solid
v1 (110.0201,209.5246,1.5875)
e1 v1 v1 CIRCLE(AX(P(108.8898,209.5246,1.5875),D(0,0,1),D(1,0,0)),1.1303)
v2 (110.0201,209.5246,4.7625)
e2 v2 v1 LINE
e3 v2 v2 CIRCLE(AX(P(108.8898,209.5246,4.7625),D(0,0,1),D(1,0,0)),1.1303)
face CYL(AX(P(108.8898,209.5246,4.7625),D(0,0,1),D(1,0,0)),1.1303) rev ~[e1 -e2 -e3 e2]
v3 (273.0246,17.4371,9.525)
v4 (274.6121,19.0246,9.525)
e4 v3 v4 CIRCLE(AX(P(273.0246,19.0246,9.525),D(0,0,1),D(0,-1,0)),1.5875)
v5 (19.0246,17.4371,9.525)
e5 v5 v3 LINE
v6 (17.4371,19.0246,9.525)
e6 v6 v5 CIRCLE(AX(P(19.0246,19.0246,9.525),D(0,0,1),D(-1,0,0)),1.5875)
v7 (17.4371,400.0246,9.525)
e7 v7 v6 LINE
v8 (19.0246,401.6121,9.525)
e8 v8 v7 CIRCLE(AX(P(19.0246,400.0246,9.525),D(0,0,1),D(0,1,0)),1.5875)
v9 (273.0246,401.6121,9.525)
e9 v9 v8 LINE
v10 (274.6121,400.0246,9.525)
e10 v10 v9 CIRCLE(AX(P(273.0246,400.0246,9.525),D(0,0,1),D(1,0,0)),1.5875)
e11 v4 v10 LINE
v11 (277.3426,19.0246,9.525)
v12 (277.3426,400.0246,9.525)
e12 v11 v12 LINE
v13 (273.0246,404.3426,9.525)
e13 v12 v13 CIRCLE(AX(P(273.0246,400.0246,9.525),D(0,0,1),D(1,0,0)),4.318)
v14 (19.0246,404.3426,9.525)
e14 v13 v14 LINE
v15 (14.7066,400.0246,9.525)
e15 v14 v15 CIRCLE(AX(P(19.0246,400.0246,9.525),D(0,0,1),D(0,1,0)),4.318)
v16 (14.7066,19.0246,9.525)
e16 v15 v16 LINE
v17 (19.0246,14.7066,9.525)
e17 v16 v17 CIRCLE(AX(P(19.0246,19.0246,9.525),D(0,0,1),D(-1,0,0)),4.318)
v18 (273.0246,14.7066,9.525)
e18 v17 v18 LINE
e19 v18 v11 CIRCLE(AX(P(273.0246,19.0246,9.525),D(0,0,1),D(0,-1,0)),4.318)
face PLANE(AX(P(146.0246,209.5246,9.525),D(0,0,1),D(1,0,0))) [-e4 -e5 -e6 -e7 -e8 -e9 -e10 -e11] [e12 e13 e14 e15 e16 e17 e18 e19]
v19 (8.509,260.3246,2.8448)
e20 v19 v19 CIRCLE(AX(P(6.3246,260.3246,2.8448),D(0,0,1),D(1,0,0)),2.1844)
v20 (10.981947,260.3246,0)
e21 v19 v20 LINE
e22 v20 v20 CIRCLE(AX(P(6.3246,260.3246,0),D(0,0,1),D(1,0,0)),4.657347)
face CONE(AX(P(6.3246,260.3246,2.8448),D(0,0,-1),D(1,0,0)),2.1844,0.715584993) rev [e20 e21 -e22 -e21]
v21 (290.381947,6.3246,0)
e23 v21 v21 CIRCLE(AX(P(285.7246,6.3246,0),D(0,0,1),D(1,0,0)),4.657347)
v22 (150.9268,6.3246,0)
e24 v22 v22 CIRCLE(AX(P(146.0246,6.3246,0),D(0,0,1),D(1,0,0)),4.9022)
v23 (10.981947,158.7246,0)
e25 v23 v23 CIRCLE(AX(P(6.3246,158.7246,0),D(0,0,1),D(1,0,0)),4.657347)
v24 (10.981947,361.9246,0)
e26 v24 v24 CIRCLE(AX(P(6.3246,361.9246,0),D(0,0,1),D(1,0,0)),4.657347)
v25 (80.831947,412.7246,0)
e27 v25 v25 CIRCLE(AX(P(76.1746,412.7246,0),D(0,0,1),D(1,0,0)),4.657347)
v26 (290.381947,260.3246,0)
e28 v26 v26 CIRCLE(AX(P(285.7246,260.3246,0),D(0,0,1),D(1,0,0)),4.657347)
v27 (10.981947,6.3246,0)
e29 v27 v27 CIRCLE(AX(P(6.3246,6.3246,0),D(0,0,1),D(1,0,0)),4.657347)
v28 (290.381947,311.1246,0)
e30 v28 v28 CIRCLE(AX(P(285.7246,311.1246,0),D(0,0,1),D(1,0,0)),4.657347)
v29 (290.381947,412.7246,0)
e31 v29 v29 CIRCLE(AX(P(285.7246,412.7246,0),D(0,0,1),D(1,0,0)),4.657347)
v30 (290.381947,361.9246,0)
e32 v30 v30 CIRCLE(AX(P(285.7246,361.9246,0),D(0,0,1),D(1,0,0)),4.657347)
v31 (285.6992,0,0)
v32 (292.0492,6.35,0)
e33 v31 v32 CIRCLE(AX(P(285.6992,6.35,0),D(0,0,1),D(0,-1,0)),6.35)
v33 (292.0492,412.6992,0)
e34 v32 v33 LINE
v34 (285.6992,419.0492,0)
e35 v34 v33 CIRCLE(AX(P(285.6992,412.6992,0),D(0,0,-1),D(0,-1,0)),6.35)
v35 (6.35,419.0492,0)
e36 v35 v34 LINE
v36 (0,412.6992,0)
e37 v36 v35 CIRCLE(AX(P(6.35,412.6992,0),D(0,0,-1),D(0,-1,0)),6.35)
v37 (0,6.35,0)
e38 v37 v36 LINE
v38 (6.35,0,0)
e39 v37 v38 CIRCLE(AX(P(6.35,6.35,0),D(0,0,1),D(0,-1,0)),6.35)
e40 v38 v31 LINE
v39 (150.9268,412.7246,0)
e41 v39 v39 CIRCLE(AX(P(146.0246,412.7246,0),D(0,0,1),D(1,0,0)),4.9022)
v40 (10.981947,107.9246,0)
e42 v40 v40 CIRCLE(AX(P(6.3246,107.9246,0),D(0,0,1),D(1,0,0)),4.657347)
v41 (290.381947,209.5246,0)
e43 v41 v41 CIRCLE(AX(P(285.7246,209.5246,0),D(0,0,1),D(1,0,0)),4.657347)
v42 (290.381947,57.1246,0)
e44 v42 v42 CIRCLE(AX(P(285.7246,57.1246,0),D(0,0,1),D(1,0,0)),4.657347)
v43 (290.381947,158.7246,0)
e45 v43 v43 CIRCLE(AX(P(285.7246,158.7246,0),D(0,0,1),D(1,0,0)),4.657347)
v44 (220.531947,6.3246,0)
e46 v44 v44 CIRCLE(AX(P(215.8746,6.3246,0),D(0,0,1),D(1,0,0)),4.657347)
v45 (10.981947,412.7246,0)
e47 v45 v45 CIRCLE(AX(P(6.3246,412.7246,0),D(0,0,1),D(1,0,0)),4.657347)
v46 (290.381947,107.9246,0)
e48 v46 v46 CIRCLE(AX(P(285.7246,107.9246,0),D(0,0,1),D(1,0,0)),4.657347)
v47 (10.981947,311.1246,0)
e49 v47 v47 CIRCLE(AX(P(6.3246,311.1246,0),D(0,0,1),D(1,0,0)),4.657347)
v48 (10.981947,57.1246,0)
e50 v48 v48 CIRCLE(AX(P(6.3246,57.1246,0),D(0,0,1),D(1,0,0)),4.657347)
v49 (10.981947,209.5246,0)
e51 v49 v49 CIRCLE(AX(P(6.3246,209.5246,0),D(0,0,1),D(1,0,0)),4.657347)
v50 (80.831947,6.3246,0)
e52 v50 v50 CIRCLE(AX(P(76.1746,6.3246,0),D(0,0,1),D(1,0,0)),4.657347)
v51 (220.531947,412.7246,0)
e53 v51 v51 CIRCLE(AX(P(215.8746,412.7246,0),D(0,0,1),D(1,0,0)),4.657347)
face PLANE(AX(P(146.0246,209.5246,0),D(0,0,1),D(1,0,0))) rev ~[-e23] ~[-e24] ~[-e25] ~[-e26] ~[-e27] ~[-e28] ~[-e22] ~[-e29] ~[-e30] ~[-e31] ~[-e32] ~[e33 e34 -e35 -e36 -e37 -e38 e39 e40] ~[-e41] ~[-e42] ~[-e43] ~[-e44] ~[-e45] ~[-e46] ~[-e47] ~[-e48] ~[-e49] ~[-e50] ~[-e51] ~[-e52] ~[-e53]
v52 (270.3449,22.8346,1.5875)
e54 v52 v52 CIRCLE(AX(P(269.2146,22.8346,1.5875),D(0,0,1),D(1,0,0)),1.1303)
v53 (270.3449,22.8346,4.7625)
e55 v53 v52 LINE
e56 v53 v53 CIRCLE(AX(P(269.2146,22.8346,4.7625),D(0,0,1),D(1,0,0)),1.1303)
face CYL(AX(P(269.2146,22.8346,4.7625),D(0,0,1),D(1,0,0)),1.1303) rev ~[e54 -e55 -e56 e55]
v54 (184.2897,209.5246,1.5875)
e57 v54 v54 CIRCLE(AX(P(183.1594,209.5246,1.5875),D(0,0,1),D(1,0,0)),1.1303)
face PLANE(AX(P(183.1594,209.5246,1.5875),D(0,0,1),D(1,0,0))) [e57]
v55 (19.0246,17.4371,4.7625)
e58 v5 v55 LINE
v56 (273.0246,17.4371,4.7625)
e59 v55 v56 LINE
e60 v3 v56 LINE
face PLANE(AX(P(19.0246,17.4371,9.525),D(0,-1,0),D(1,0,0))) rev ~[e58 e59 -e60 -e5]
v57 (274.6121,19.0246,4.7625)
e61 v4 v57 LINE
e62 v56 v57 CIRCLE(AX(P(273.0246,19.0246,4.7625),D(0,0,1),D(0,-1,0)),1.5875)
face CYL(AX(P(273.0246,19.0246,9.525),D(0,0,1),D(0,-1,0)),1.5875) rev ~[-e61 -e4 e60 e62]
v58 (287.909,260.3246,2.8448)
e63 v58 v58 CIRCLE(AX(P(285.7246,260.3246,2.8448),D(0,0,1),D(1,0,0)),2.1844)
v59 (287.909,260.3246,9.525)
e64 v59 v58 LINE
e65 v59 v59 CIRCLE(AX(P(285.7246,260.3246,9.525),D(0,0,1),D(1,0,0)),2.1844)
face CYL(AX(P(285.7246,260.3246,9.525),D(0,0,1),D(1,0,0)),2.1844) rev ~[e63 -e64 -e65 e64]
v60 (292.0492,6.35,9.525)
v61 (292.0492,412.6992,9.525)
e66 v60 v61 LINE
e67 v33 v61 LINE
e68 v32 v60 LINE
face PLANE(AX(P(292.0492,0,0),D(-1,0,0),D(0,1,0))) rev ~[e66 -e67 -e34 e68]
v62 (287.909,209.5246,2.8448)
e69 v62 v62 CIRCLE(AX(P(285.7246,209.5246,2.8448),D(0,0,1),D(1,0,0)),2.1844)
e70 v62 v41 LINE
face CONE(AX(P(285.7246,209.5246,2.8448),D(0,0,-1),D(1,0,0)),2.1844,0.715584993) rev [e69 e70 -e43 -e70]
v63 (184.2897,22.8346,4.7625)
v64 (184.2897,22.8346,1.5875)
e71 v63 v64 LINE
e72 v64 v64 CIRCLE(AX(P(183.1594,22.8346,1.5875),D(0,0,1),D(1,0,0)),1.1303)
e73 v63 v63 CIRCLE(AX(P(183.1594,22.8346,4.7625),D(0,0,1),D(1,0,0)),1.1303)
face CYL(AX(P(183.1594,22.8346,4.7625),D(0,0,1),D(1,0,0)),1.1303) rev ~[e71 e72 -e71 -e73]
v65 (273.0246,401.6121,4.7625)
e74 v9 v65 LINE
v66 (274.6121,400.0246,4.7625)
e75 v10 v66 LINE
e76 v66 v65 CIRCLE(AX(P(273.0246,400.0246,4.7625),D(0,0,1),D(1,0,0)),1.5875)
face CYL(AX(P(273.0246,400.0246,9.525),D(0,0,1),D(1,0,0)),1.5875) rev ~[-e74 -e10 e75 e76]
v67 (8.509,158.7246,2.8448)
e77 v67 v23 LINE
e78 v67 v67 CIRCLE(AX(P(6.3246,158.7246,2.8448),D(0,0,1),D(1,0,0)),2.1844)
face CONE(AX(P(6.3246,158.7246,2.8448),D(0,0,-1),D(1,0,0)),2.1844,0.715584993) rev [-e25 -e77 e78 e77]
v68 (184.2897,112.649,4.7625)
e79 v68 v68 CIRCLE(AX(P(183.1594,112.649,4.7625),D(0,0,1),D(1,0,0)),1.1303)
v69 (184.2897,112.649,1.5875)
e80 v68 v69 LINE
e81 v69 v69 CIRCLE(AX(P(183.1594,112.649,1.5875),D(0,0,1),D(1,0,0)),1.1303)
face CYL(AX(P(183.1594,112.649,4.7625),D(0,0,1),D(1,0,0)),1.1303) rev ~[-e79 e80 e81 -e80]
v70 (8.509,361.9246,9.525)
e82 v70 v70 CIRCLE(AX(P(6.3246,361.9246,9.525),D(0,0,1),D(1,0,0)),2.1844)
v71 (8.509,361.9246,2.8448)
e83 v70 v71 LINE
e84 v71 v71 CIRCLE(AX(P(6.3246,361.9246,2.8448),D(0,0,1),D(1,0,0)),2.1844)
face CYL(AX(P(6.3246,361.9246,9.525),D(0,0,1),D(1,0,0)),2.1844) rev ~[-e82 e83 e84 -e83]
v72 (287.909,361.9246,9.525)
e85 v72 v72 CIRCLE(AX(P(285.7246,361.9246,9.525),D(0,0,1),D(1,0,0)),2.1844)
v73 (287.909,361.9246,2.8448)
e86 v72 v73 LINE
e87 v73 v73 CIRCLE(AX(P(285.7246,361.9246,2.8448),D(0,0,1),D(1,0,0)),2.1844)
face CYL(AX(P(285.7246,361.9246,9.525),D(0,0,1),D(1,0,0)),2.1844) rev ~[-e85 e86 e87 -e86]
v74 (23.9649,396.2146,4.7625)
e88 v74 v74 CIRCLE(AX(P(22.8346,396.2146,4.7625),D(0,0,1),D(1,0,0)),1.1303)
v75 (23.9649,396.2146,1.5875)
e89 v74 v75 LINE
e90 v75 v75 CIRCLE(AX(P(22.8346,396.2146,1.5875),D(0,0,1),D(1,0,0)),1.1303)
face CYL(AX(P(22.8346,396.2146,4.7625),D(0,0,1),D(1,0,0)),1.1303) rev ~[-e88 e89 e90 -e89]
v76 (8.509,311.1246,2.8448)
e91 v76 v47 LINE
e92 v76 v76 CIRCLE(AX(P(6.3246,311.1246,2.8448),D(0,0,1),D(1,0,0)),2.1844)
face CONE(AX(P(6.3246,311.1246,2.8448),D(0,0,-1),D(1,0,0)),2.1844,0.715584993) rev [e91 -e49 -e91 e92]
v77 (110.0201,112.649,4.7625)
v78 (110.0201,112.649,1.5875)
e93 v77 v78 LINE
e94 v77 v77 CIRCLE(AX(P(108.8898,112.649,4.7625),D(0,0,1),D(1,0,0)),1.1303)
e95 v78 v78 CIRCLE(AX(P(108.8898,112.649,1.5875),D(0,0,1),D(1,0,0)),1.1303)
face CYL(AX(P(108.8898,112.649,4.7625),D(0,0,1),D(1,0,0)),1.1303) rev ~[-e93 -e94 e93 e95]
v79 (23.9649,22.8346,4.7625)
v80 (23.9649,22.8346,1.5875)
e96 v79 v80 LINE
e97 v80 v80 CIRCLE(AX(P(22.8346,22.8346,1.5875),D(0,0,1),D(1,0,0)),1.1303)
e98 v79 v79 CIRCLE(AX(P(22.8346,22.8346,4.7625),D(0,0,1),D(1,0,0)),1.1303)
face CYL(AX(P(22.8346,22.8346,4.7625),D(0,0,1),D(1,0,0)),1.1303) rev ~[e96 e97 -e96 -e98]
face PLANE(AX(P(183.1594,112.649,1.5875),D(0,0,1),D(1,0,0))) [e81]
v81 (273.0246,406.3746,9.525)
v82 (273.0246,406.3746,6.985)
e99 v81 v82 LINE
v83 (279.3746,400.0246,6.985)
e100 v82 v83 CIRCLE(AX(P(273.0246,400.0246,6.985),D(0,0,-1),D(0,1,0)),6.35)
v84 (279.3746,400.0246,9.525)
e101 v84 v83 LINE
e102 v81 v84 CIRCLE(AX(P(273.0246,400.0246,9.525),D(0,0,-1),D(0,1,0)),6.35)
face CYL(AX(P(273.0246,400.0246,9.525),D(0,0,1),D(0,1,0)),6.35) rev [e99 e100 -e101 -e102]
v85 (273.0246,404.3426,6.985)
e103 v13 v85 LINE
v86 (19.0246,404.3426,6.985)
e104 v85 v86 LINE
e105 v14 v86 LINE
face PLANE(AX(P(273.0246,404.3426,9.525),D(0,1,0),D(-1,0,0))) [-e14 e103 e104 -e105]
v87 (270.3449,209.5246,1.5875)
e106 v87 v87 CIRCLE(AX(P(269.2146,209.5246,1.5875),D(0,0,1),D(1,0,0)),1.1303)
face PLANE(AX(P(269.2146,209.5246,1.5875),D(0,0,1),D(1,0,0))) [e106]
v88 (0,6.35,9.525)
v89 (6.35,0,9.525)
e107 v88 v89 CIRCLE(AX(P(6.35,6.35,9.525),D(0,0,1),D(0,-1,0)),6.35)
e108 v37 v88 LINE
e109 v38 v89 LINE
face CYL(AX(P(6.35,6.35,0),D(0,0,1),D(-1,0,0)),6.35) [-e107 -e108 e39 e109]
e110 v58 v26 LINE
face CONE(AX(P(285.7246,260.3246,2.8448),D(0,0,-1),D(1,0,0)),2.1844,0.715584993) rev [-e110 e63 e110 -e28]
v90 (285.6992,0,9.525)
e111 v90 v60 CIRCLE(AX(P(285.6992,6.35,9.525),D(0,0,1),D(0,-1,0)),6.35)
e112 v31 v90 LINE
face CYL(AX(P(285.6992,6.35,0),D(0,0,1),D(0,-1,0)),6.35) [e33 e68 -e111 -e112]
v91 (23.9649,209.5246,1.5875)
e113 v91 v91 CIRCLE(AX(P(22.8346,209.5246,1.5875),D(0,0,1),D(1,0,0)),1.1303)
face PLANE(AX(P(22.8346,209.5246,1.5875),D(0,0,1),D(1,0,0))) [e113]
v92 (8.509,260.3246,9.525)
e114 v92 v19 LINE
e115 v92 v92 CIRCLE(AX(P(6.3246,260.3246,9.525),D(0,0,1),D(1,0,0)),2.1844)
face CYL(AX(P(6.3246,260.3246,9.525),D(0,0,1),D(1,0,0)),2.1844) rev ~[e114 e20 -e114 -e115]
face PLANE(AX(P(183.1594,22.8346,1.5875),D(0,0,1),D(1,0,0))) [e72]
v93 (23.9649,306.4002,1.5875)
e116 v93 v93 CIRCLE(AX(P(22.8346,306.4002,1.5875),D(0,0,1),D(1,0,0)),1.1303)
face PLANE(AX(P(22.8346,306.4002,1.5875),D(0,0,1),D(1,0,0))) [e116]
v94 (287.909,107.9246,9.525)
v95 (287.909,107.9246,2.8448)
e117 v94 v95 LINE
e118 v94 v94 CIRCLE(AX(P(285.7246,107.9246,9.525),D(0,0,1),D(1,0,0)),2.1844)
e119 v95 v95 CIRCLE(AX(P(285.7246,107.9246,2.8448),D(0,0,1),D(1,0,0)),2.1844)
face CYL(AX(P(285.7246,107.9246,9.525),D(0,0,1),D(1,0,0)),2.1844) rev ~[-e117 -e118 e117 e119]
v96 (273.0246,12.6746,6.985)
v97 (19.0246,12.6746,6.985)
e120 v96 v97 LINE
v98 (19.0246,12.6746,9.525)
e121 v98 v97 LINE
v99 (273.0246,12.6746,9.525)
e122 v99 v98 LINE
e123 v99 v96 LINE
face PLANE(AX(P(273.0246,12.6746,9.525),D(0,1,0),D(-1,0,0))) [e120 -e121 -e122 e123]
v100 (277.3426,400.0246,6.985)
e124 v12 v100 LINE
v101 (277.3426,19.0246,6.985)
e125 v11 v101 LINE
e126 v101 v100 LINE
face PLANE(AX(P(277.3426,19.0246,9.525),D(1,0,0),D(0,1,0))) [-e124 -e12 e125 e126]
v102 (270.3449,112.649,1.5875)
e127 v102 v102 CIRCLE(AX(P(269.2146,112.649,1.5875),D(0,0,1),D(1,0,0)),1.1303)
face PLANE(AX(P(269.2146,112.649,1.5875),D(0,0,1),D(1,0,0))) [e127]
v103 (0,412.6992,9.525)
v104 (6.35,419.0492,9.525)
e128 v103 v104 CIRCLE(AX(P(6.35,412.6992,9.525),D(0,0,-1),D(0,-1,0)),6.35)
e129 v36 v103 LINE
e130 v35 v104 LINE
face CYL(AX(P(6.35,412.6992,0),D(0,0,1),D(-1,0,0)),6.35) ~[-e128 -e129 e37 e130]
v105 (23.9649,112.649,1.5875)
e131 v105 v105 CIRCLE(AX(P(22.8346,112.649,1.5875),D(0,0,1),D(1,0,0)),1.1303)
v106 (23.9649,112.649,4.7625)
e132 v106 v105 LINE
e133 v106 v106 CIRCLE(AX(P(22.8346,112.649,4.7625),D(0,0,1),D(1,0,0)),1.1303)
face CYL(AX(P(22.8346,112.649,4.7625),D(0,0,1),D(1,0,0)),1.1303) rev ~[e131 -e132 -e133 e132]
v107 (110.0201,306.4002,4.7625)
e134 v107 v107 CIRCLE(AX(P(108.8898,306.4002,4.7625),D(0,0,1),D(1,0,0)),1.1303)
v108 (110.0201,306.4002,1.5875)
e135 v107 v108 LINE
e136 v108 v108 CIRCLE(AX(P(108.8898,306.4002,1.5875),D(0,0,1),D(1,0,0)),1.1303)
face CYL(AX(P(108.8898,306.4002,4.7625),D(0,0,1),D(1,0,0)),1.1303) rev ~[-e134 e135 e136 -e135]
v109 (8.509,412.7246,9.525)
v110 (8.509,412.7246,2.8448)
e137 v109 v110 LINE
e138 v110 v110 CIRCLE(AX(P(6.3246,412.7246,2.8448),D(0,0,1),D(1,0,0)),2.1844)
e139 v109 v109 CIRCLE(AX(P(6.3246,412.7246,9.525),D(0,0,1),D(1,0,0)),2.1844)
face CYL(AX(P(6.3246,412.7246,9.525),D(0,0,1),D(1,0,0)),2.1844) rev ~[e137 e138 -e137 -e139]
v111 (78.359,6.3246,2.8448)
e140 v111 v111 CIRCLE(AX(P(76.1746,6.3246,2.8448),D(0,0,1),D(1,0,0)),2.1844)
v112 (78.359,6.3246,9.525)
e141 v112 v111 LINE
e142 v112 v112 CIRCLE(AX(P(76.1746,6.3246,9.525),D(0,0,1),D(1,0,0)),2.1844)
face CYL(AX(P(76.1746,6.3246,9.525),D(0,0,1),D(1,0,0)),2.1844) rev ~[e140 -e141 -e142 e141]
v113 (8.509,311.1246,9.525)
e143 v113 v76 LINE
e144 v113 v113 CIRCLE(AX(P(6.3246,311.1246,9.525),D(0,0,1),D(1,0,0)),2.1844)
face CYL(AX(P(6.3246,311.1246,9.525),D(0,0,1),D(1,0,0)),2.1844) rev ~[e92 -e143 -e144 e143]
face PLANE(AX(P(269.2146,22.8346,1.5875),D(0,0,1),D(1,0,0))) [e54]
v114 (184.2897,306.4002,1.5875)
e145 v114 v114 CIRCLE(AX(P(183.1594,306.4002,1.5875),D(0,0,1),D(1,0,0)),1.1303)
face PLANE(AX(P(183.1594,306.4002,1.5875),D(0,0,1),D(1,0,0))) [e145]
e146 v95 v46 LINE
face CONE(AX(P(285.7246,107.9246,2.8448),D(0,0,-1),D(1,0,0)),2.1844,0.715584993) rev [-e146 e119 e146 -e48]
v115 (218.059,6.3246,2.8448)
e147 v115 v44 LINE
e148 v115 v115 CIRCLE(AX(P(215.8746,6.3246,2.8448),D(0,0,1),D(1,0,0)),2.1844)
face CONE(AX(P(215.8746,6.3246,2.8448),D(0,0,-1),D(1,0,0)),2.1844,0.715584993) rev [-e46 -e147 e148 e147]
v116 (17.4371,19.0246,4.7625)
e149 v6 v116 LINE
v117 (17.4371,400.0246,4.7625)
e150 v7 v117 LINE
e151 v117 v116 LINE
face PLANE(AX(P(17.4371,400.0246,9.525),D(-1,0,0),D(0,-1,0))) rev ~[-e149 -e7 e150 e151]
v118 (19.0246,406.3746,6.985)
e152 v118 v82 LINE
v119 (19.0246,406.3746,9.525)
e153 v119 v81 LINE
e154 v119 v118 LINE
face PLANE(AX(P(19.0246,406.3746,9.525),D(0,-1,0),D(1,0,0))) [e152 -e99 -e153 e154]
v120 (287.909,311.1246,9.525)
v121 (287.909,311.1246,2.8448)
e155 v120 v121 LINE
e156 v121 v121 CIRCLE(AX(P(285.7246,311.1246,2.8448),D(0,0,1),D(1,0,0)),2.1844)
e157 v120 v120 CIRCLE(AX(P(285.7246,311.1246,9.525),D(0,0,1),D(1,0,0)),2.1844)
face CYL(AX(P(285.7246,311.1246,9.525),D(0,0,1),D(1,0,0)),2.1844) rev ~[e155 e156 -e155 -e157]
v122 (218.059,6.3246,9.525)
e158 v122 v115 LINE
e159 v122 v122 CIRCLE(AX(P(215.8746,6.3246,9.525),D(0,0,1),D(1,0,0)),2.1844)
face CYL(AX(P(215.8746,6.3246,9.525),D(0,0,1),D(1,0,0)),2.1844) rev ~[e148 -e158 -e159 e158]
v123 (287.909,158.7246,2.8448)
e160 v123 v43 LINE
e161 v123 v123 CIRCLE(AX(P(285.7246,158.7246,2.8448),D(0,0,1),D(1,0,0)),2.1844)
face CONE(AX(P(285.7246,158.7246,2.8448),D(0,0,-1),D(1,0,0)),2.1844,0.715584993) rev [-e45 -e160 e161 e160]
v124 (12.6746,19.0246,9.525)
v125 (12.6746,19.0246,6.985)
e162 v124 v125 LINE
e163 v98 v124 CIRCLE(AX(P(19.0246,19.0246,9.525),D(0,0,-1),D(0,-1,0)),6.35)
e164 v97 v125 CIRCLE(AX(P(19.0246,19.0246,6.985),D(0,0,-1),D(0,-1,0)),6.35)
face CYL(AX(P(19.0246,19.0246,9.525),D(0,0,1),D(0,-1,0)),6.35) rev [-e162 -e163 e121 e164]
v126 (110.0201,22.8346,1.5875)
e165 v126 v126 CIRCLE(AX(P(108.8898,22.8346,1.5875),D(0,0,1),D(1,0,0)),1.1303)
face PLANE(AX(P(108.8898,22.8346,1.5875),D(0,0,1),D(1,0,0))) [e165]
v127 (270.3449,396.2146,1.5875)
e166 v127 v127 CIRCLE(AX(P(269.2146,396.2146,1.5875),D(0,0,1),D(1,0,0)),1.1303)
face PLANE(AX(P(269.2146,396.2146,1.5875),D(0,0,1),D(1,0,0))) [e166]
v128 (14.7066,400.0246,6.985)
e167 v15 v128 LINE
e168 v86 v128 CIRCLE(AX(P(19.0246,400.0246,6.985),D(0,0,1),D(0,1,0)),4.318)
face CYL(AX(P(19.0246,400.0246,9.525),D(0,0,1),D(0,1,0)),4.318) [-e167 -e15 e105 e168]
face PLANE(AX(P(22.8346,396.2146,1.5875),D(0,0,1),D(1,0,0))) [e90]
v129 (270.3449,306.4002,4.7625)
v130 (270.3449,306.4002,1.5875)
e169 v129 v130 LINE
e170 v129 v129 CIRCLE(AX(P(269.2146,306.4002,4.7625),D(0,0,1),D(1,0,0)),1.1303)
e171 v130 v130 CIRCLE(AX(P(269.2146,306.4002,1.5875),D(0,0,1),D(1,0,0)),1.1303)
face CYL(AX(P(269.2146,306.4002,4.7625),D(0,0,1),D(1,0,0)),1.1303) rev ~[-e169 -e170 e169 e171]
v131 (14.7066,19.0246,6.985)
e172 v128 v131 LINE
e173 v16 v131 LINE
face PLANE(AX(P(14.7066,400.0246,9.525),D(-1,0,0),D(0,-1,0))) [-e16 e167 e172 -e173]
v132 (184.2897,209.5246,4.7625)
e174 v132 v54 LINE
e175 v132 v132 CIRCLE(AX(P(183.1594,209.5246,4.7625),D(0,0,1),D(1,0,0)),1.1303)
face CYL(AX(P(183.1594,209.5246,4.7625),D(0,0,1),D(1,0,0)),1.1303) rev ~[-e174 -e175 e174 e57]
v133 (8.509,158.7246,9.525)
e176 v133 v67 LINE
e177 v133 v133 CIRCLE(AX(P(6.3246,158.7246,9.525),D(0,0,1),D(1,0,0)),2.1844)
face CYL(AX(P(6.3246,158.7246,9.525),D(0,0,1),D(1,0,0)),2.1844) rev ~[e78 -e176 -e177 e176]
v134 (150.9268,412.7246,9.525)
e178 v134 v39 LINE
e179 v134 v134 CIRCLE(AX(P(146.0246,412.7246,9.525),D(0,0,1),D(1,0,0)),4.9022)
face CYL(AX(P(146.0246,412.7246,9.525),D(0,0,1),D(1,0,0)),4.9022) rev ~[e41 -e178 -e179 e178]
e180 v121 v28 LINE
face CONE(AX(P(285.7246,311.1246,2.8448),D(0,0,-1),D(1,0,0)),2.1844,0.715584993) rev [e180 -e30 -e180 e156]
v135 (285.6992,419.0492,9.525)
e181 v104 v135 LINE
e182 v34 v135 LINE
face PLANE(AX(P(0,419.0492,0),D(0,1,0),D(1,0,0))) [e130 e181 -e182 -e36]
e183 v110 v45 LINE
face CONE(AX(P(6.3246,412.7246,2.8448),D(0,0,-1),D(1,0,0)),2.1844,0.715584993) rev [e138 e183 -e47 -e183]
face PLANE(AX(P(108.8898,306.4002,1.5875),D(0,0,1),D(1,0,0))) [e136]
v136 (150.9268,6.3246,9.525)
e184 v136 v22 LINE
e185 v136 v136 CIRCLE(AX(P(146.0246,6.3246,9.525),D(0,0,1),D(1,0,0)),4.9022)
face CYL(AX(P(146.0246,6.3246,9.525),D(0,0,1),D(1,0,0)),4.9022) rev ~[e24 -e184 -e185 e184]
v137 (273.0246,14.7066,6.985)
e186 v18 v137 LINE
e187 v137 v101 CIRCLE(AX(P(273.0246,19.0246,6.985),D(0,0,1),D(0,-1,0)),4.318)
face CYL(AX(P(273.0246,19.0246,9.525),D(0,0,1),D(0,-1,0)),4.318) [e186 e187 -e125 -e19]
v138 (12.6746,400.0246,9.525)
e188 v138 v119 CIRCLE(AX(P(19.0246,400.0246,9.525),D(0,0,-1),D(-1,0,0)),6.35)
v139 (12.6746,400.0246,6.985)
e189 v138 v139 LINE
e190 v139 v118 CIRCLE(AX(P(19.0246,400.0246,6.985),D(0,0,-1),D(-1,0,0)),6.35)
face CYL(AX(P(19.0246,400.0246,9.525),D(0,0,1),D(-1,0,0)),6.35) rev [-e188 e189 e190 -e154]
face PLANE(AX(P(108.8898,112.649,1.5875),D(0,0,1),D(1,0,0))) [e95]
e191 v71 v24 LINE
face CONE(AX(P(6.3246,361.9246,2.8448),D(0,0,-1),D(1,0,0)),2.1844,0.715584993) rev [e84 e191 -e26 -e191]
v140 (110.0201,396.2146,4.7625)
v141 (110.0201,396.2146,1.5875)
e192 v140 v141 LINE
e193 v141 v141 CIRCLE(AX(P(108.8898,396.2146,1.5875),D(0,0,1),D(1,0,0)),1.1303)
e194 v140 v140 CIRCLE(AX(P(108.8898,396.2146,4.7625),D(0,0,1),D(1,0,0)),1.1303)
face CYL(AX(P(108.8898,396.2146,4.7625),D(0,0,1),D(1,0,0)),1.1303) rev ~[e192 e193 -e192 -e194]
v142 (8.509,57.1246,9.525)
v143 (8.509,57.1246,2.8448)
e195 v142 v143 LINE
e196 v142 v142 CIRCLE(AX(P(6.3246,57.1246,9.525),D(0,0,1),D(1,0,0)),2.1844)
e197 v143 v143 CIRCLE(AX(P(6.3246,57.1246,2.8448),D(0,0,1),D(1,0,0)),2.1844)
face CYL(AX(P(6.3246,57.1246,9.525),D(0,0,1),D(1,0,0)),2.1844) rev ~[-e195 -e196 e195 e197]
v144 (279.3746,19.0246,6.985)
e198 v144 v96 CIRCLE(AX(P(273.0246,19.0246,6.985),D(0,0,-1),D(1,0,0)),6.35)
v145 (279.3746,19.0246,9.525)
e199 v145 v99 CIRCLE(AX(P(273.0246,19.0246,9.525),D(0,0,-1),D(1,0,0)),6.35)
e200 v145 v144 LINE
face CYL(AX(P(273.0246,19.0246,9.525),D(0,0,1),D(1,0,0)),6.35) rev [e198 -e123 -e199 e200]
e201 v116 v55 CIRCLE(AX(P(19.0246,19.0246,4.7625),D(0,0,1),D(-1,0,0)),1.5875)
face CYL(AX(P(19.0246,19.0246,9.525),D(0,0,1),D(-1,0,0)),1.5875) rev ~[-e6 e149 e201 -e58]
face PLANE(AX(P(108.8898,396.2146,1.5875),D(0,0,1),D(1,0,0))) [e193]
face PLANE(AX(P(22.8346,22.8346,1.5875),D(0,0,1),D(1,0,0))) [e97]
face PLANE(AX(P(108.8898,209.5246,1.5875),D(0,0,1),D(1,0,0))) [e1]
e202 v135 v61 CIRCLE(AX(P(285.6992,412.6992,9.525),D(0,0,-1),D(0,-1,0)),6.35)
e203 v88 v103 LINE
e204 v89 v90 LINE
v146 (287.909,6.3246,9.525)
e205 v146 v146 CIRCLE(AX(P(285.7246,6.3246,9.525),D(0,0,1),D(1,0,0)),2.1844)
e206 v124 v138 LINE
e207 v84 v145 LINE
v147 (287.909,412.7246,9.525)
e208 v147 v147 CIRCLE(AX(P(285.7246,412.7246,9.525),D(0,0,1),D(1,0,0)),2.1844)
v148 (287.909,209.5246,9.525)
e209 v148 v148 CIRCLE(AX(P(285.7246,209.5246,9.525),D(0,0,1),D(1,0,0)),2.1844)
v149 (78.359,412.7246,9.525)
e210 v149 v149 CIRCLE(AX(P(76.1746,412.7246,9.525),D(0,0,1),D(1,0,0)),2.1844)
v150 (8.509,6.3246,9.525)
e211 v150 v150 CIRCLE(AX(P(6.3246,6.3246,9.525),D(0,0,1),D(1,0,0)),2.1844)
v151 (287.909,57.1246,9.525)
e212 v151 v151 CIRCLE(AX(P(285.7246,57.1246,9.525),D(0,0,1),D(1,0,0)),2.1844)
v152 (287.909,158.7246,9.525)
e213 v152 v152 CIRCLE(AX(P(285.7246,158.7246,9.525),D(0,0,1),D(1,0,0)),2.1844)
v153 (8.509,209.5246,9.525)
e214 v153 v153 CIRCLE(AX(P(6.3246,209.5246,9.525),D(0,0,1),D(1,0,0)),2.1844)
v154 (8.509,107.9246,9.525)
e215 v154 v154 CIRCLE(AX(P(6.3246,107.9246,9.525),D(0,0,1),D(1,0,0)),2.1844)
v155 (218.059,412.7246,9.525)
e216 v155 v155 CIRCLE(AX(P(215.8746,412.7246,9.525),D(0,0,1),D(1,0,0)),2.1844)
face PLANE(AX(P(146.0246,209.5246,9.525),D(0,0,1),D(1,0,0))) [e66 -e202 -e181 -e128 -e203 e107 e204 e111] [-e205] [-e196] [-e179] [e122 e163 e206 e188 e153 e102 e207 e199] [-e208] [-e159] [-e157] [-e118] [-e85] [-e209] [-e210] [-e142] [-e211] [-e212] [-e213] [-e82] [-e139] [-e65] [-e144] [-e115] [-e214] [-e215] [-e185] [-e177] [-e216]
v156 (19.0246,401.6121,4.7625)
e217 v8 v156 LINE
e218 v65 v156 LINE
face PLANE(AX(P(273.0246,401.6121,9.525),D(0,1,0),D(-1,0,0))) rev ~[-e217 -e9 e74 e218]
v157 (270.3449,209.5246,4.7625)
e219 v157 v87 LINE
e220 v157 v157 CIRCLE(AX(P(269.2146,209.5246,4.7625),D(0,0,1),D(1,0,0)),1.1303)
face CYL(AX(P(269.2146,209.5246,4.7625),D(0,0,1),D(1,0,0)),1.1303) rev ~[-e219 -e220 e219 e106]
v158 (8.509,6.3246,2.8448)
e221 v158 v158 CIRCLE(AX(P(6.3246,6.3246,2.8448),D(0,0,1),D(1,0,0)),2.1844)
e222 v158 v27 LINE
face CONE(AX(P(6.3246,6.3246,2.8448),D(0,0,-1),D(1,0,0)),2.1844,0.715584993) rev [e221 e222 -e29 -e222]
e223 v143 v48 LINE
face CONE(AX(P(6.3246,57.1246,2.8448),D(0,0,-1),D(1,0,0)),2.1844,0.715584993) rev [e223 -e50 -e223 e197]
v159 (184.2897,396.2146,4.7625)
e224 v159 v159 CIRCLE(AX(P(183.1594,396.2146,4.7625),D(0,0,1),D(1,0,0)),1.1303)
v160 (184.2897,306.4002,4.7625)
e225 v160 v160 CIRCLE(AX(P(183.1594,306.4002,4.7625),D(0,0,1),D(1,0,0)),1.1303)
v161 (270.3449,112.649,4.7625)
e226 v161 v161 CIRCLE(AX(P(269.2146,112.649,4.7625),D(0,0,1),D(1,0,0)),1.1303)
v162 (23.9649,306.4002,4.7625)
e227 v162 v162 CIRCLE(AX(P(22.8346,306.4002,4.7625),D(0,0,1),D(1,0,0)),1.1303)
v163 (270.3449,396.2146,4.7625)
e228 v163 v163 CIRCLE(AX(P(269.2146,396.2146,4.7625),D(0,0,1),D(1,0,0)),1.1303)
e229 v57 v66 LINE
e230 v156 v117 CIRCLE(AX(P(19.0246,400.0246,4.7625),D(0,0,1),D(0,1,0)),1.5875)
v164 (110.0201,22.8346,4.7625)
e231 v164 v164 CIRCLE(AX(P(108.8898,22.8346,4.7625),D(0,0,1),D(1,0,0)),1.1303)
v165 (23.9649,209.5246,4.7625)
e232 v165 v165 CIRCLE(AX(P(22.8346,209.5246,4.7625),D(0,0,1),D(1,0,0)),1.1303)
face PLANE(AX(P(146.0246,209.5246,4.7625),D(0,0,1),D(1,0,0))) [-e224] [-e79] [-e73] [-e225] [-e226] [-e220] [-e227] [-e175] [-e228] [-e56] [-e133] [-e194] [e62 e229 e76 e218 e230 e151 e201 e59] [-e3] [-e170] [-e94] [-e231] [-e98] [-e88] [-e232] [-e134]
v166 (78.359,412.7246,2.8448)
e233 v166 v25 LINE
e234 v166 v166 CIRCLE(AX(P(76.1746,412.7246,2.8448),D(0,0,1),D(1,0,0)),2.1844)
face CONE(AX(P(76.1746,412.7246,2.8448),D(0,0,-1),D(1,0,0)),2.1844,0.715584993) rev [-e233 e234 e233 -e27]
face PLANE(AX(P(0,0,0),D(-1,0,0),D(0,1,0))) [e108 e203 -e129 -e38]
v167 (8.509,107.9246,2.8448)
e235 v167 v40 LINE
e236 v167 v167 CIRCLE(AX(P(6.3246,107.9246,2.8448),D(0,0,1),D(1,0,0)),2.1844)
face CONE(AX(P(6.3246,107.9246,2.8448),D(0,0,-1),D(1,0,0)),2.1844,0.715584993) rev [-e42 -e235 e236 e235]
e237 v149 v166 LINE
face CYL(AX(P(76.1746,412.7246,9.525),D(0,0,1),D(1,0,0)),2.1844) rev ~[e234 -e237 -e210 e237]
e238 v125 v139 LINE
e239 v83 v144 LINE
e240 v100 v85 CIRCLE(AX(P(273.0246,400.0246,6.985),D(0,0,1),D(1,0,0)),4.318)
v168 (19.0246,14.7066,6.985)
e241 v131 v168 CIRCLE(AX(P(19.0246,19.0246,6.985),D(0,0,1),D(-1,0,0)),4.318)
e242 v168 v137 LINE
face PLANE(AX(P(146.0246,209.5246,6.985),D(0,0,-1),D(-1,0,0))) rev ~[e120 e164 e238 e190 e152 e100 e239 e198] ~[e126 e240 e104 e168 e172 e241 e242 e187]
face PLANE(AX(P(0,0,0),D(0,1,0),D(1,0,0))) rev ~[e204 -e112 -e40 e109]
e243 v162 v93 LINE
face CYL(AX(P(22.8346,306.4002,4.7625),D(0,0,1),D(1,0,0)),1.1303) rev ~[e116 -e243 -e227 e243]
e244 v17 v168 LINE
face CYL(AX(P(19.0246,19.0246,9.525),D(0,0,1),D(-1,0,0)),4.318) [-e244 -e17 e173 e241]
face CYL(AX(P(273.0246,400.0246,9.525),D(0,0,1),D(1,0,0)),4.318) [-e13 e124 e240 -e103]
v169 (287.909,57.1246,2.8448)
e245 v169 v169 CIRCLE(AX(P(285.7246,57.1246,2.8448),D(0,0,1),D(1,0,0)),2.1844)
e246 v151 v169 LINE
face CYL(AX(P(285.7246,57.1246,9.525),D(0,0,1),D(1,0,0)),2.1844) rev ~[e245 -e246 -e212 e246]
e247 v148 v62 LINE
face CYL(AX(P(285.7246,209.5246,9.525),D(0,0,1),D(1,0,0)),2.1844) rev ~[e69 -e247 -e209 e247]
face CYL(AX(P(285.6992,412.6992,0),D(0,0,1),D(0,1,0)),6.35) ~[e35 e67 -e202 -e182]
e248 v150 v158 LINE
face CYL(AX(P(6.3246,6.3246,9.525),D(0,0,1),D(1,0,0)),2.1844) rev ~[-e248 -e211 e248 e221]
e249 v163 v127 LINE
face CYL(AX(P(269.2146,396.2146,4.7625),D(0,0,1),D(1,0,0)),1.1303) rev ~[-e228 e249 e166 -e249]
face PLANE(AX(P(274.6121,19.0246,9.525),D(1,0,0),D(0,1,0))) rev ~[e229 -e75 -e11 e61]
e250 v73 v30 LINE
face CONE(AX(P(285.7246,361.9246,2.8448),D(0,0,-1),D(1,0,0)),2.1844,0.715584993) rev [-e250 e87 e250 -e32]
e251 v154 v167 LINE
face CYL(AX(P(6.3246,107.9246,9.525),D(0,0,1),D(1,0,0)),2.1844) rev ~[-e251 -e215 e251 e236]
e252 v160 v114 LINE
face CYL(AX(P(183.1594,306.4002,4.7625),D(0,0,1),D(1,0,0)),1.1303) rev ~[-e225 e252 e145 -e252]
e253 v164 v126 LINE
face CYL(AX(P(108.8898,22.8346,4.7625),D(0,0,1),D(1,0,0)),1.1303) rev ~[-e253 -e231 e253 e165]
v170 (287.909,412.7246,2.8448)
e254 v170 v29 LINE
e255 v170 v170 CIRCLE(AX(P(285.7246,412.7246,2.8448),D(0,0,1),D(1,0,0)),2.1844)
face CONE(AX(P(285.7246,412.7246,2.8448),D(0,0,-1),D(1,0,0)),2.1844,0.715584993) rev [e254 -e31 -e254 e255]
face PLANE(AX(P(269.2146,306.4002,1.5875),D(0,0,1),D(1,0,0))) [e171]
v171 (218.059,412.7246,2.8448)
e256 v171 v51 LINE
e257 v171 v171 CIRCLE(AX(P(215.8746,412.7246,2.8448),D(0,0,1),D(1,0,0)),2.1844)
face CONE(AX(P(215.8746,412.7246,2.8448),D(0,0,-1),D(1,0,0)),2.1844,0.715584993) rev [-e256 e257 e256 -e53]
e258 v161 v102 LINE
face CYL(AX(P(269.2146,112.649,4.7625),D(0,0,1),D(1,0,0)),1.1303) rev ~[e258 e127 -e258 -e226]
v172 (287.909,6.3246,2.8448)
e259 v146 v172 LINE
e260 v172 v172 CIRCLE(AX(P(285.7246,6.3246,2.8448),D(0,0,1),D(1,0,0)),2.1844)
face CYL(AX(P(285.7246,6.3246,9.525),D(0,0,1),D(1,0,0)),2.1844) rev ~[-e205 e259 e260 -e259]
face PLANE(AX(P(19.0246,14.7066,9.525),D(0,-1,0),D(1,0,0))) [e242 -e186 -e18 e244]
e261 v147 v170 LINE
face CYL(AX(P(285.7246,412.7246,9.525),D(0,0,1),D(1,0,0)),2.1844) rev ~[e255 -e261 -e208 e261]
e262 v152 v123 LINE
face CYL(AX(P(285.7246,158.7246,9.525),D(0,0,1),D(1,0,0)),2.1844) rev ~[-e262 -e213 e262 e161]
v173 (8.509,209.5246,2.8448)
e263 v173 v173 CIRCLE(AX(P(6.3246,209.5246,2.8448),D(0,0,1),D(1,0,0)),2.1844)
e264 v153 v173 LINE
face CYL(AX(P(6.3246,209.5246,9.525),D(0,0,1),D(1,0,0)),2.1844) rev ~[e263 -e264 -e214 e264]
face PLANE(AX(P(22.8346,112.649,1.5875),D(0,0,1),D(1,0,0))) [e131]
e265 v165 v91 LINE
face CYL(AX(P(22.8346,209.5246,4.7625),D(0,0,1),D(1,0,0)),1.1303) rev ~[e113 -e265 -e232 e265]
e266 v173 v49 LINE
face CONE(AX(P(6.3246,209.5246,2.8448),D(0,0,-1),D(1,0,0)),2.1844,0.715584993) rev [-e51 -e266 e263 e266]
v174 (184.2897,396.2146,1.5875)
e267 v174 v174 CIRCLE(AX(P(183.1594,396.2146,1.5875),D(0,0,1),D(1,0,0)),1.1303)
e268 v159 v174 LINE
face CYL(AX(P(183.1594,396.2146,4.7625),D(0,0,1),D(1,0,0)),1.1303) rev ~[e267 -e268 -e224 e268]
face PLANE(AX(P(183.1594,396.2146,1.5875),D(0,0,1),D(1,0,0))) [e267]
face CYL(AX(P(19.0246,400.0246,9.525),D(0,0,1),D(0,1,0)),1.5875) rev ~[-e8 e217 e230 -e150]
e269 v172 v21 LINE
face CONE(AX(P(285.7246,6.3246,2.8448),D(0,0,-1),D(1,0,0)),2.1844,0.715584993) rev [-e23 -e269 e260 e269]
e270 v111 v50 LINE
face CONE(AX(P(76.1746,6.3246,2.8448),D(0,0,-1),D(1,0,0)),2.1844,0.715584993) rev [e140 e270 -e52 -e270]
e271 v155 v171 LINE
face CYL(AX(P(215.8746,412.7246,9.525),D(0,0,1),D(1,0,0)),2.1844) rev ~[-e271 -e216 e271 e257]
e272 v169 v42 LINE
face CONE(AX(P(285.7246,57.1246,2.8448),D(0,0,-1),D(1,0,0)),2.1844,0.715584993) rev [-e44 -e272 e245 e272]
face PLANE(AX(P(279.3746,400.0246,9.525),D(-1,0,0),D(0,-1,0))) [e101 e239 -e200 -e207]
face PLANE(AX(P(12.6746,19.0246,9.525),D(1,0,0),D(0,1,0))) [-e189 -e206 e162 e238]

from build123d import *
from OCP.BRepFilletAPI import BRepFilletAPI_MakeChamfer

# Parameters (mm, degrees)
SKETCH1_W           = 292.0492
SKETCH1_H           = 419.0492
BOSS_EXTRUDE1_DEPTH = 9.525
SKETCH4_R           = 2.1844
CUT_EXTRUDE1_DEPTH  = 511.867588389
CUT_EXTRUDE2_DEPTH  = 2.54
LPATTERN3_COUNT     = 4
LPATTERN3_PITCH     = 69.85
LPATTERN4_COUNT     = 8
LPATTERN4_PITCH     = 50.8
CUT_EXTRUDE3_DEPTH  = 4.7625
SKETCH7_R           = 1.1303
CUT_EXTRUDE4_DEPTH  = 3.175
SKETCH8_R           = 4.9022
CUT_EXTRUDE5_DEPTH  = 511.867588389
FILLET1_R           = 6.35
CHAMFER1_SIZE       = 2.8448
CHAMFER1_SIZE2      = 2.472946912


with BuildPart() as part:
    # Sketch1 → Boss-Extrude1 (new body)
    with BuildSketch(Plane.XY):
        with Locations((146.0246, 209.5246)):
            Rectangle(SKETCH1_W, SKETCH1_H)
    extrude(amount=BOSS_EXTRUDE1_DEPTH)

    # Sketch4 → Cut-Extrude1 (cut, through all)
    with BuildSketch(Plane.XY.offset(9.525)):
        with Locations((6.3246, 6.3246)):
            Circle(SKETCH4_R)
        with Locations((6.3246, 412.7246)):
            Circle(SKETCH4_R)
        with Locations((285.7246, 412.7246)):
            Circle(SKETCH4_R)
        with Locations((285.7246, 6.3246)):
            Circle(SKETCH4_R)
    cut_extrude1 = extrude(amount=-CUT_EXTRUDE1_DEPTH, mode=Mode.SUBTRACT)

    # Sketch5 → Cut-Extrude2 (cut)
    with BuildSketch(Plane.XY.offset(9.525)):
        with BuildLine():
            Line((19.0246, 406.3746), (273.0246, 406.3746))
            ThreePointArc((273.0246, 406.3746), (277.514728061, 404.514728061), (279.3746, 400.0246))
            Line((279.3746, 400.0246), (279.3746, 19.0246))
            ThreePointArc((279.3746, 19.0246), (277.514728061, 14.534471939), (273.0246, 12.6746))
            Line((273.0246, 12.6746), (19.0246, 12.6746))
            ThreePointArc((19.0246, 12.6746), (14.534471939, 14.534471939), (12.6746, 19.0246))
            Line((12.6746, 19.0246), (12.6746, 400.0246))
            ThreePointArc((12.6746, 400.0246), (14.534471939, 404.514728061), (19.0246, 406.3746))
        make_face()
        with BuildLine():
            ThreePointArc((273.0246, 14.7066), (276.077887081, 15.971312919), (277.3426, 19.0246))
            Line((277.3426, 19.0246), (277.3426, 400.0246))
            ThreePointArc((277.3426, 400.0246), (276.077887081, 403.077887081), (273.0246, 404.3426))
            Line((273.0246, 404.3426), (19.0246, 404.3426))
            ThreePointArc((19.0246, 404.3426), (15.971312919, 403.077887081), (14.7066, 400.0246))
            Line((14.7066, 400.0246), (14.7066, 19.0246))
            ThreePointArc((14.7066, 19.0246), (15.971312919, 15.971312919), (19.0246, 14.7066))
            Line((19.0246, 14.7066), (273.0246, 14.7066))
        make_face(mode=Mode.SUBTRACT)
    extrude(amount=-CUT_EXTRUDE2_DEPTH, mode=Mode.SUBTRACT)

    # LPattern3: Cut-Extrude1 ×4
    with Locations(*[(i * LPATTERN3_PITCH, 0, 0) for i in range(1, LPATTERN3_COUNT)]):
        add(cut_extrude1, mode=Mode.SUBTRACT)

    # LPattern4: Cut-Extrude1 ×8
    with Locations(*[(0, -i * LPATTERN4_PITCH, 0) for i in range(1, LPATTERN4_COUNT)]):
        add(cut_extrude1, mode=Mode.SUBTRACT)

    # Sketch6 → Cut-Extrude3 (cut)
    with BuildSketch(Plane.XY.offset(9.525)):
        with BuildLine():
            Line((274.6121, 19.0246), (274.6121, 400.0246))
            ThreePointArc((274.6121, 400.0246), (274.147132015, 401.147132015), (273.0246, 401.6121))
            Line((273.0246, 401.6121), (19.0246, 401.6121))
            ThreePointArc((19.0246, 401.6121), (17.902067985, 401.147132015), (17.4371, 400.0246))
            Line((17.4371, 400.0246), (17.4371, 19.0246))
            ThreePointArc((17.4371, 19.0246), (17.902067985, 17.902067985), (19.0246, 17.4371))
            Line((19.0246, 17.4371), (273.0246, 17.4371))
            ThreePointArc((273.0246, 17.4371), (274.147132015, 17.902067985), (274.6121, 19.0246))
        make_face()
    extrude(amount=-CUT_EXTRUDE3_DEPTH, mode=Mode.SUBTRACT)

    # Sketch7 → Cut-Extrude4 (cut)
    with BuildSketch(Plane.XY.offset(4.7625)):
        with Locations((22.8346, 396.2146)):
            Circle(SKETCH7_R)
        with Locations((269.2146, 396.2146)):
            Circle(SKETCH7_R)
        with Locations((22.8346, 22.8346)):
            Circle(SKETCH7_R)
        with Locations((108.8898, 22.8346)):
            Circle(SKETCH7_R)
        with Locations((108.8898, 396.2146)):
            Circle(SKETCH7_R)
        with Locations((183.1594, 396.2146)):
            Circle(SKETCH7_R)
        with Locations((183.1594, 22.8346)):
            Circle(SKETCH7_R)
        with Locations((269.2146, 22.8346)):
            Circle(SKETCH7_R)
        with Locations((269.2146, 112.649)):
            Circle(SKETCH7_R)
        with Locations((108.8898, 112.649)):
            Circle(SKETCH7_R)
        with Locations((183.1594, 112.649)):
            Circle(SKETCH7_R)
        with Locations((22.8346, 112.649)):
            Circle(SKETCH7_R)
        with Locations((269.2146, 209.5246)):
            Circle(SKETCH7_R)
        with Locations((108.8898, 209.5246)):
            Circle(SKETCH7_R)
        with Locations((183.1594, 209.5246)):
            Circle(SKETCH7_R)
        with Locations((22.8346, 209.5246)):
            Circle(SKETCH7_R)
        with Locations((269.2146, 306.4002)):
            Circle(SKETCH7_R)
        with Locations((108.8898, 306.4002)):
            Circle(SKETCH7_R)
        with Locations((183.1594, 306.4002)):
            Circle(SKETCH7_R)
        with Locations((22.8346, 306.4002)):
            Circle(SKETCH7_R)
    extrude(amount=-CUT_EXTRUDE4_DEPTH, mode=Mode.SUBTRACT)

    # Sketch8 → Cut-Extrude5 (cut, through all)
    with BuildSketch(Plane.XY.offset(9.525)):
        with Locations((146.0246, 412.7246)):
            Circle(SKETCH8_R)
        with Locations((146.0246, 6.3246)):
            Circle(SKETCH8_R)
    extrude(amount=-CUT_EXTRUDE5_DEPTH, mode=Mode.SUBTRACT)

    # Fillet1
    fillet1_edges = [part.edges().sort_by_distance(p)[0] for p in [
        (0, 419.0492, 4.7625),
        (292.0492, 419.0492, 4.7625),
        (292.0492, 0, 4.7625),
        (0, 0, 4.7625),
    ]]
    fillet(fillet1_edges, radius=FILLET1_R)

    # Chamfer1: one chamfer whose edges measure the first distance from different faces: ONE call of the kernel's chamfer builder (chamfer() names one face for all edges)
    chamfer1_edges_1 = [part.edges().sort_by_distance(p)[0] for p in [
        (4.1402, 107.9246, 0),
    ]]
    chamfer1_side_1 = [part.faces().sort_by_distance(p)[0] for p in [
        (4.1402, 107.9246, 4.7625),
    ]]
    chamfer1_edges_2 = [part.edges().sort_by_distance(p)[0] for p in [
        (283.5402, 107.9246, 0),
    ]]
    chamfer1_side_2 = [part.faces().sort_by_distance(p)[0] for p in [
        (283.5402, 107.9246, 4.7625),
    ]]
    chamfer1_edges_3 = [part.edges().sort_by_distance(p)[0] for p in [
        (4.1402, 57.1246, 0),
    ]]
    chamfer1_side_3 = [part.faces().sort_by_distance(p)[0] for p in [
        (4.1402, 57.1246, 4.7625),
    ]]
    chamfer1_edges_4 = [part.edges().sort_by_distance(p)[0] for p in [
        (283.5402, 57.1246, 0),
    ]]
    chamfer1_side_4 = [part.faces().sort_by_distance(p)[0] for p in [
        (283.5402, 57.1246, 4.7625),
    ]]
    chamfer1_edges_5 = [part.edges().sort_by_distance(p)[0] for p in [
        (4.1402, 6.3246, 0),
    ]]
    chamfer1_side_5 = [part.faces().sort_by_distance(p)[0] for p in [
        (4.1402, 6.3246, 4.7625),
    ]]
    chamfer1_edges_6 = [part.edges().sort_by_distance(p)[0] for p in [
        (4.1402, 412.7246, 0),
    ]]
    chamfer1_side_6 = [part.faces().sort_by_distance(p)[0] for p in [
        (4.1402, 412.7246, 4.7625),
    ]]
    chamfer1_edges_7 = [part.edges().sort_by_distance(p)[0] for p in [
        (283.5402, 412.7246, 0),
    ]]
    chamfer1_side_7 = [part.faces().sort_by_distance(p)[0] for p in [
        (283.5402, 412.7246, 4.7625),
    ]]
    chamfer1_edges_8 = [part.edges().sort_by_distance(p)[0] for p in [
        (283.5402, 6.3246, 0),
    ]]
    chamfer1_side_8 = [part.faces().sort_by_distance(p)[0] for p in [
        (283.5402, 6.3246, 4.7625),
    ]]
    chamfer1_edges_9 = [part.edges().sort_by_distance(p)[0] for p in [
        (73.9902, 412.7246, 0),
    ]]
    chamfer1_side_9 = [part.faces().sort_by_distance(p)[0] for p in [
        (73.9902, 412.7246, 4.7625),
    ]]
    chamfer1_edges_10 = [part.edges().sort_by_distance(p)[0] for p in [
        (73.9902, 6.3246, 0),
    ]]
    chamfer1_side_10 = [part.faces().sort_by_distance(p)[0] for p in [
        (73.9902, 6.3246, 4.7625),
    ]]
    chamfer1_edges_11 = [part.edges().sort_by_distance(p)[0] for p in [
        (213.6902, 412.7246, 0),
    ]]
    chamfer1_side_11 = [part.faces().sort_by_distance(p)[0] for p in [
        (213.6902, 412.7246, 4.7625),
    ]]
    chamfer1_edges_12 = [part.edges().sort_by_distance(p)[0] for p in [
        (213.6902, 6.3246, 0),
    ]]
    chamfer1_side_12 = [part.faces().sort_by_distance(p)[0] for p in [
        (213.6902, 6.3246, 4.7625),
    ]]
    chamfer1_edges_13 = [part.edges().sort_by_distance(p)[0] for p in [
        (4.1402, 361.9246, 0),
    ]]
    chamfer1_side_13 = [part.faces().sort_by_distance(p)[0] for p in [
        (4.1402, 361.9246, 4.7625),
    ]]
    chamfer1_edges_14 = [part.edges().sort_by_distance(p)[0] for p in [
        (283.5402, 361.9246, 0),
    ]]
    chamfer1_side_14 = [part.faces().sort_by_distance(p)[0] for p in [
        (283.5402, 361.9246, 4.7625),
    ]]
    chamfer1_edges_15 = [part.edges().sort_by_distance(p)[0] for p in [
        (4.1402, 311.1246, 0),
    ]]
    chamfer1_side_15 = [part.faces().sort_by_distance(p)[0] for p in [
        (4.1402, 311.1246, 4.7625),
    ]]
    chamfer1_edges_16 = [part.edges().sort_by_distance(p)[0] for p in [
        (283.5402, 311.1246, 0),
    ]]
    chamfer1_side_16 = [part.faces().sort_by_distance(p)[0] for p in [
        (283.5402, 311.1246, 4.7625),
    ]]
    chamfer1_edges_17 = [part.edges().sort_by_distance(p)[0] for p in [
        (4.1402, 260.3246, 0),
    ]]
    chamfer1_side_17 = [part.faces().sort_by_distance(p)[0] for p in [
        (4.1402, 260.3246, 4.7625),
    ]]
    chamfer1_edges_18 = [part.edges().sort_by_distance(p)[0] for p in [
        (283.5402, 260.3246, 0),
    ]]
    chamfer1_side_18 = [part.faces().sort_by_distance(p)[0] for p in [
        (283.5402, 260.3246, 4.7625),
    ]]
    chamfer1_edges_19 = [part.edges().sort_by_distance(p)[0] for p in [
        (4.1402, 209.5246, 0),
    ]]
    chamfer1_side_19 = [part.faces().sort_by_distance(p)[0] for p in [
        (4.1402, 209.5246, 4.7625),
    ]]
    chamfer1_edges_20 = [part.edges().sort_by_distance(p)[0] for p in [
        (283.5402, 209.5246, 0),
    ]]
    chamfer1_side_20 = [part.faces().sort_by_distance(p)[0] for p in [
        (283.5402, 209.5246, 4.7625),
    ]]
    chamfer1_edges_21 = [part.edges().sort_by_distance(p)[0] for p in [
        (4.1402, 158.7246, 0),
    ]]
    chamfer1_side_21 = [part.faces().sort_by_distance(p)[0] for p in [
        (4.1402, 158.7246, 4.7625),
    ]]
    chamfer1_edges_22 = [part.edges().sort_by_distance(p)[0] for p in [
        (283.5402, 158.7246, 0),
    ]]
    chamfer1_side_22 = [part.faces().sort_by_distance(p)[0] for p in [
        (283.5402, 158.7246, 4.7625),
    ]]
    chamfer1 = BRepFilletAPI_MakeChamfer(part.part.solid().wrapped)
    for e in chamfer1_edges_1:
        chamfer1.Add(CHAMFER1_SIZE, CHAMFER1_SIZE2, e.wrapped, chamfer1_side_1[0].wrapped)  # the first distance lies on this face
    for e in chamfer1_edges_2:
        chamfer1.Add(CHAMFER1_SIZE, CHAMFER1_SIZE2, e.wrapped, chamfer1_side_2[0].wrapped)  # the first distance lies on this face
    for e in chamfer1_edges_3:
        chamfer1.Add(CHAMFER1_SIZE, CHAMFER1_SIZE2, e.wrapped, chamfer1_side_3[0].wrapped)  # the first distance lies on this face
    for e in chamfer1_edges_4:
        chamfer1.Add(CHAMFER1_SIZE, CHAMFER1_SIZE2, e.wrapped, chamfer1_side_4[0].wrapped)  # the first distance lies on this face
    for e in chamfer1_edges_5:
        chamfer1.Add(CHAMFER1_SIZE, CHAMFER1_SIZE2, e.wrapped, chamfer1_side_5[0].wrapped)  # the first distance lies on this face
    for e in chamfer1_edges_6:
        chamfer1.Add(CHAMFER1_SIZE, CHAMFER1_SIZE2, e.wrapped, chamfer1_side_6[0].wrapped)  # the first distance lies on this face
    for e in chamfer1_edges_7:
        chamfer1.Add(CHAMFER1_SIZE, CHAMFER1_SIZE2, e.wrapped, chamfer1_side_7[0].wrapped)  # the first distance lies on this face
    for e in chamfer1_edges_8:
        chamfer1.Add(CHAMFER1_SIZE, CHAMFER1_SIZE2, e.wrapped, chamfer1_side_8[0].wrapped)  # the first distance lies on this face
    for e in chamfer1_edges_9:
        chamfer1.Add(CHAMFER1_SIZE, CHAMFER1_SIZE2, e.wrapped, chamfer1_side_9[0].wrapped)  # the first distance lies on this face
    for e in chamfer1_edges_10:
        chamfer1.Add(CHAMFER1_SIZE, CHAMFER1_SIZE2, e.wrapped, chamfer1_side_10[0].wrapped)  # the first distance lies on this face
    for e in chamfer1_edges_11:
        chamfer1.Add(CHAMFER1_SIZE, CHAMFER1_SIZE2, e.wrapped, chamfer1_side_11[0].wrapped)  # the first distance lies on this face
    for e in chamfer1_edges_12:
        chamfer1.Add(CHAMFER1_SIZE, CHAMFER1_SIZE2, e.wrapped, chamfer1_side_12[0].wrapped)  # the first distance lies on this face
    for e in chamfer1_edges_13:
        chamfer1.Add(CHAMFER1_SIZE, CHAMFER1_SIZE2, e.wrapped, chamfer1_side_13[0].wrapped)  # the first distance lies on this face
    for e in chamfer1_edges_14:
        chamfer1.Add(CHAMFER1_SIZE, CHAMFER1_SIZE2, e.wrapped, chamfer1_side_14[0].wrapped)  # the first distance lies on this face
    for e in chamfer1_edges_15:
        chamfer1.Add(CHAMFER1_SIZE, CHAMFER1_SIZE2, e.wrapped, chamfer1_side_15[0].wrapped)  # the first distance lies on this face
    for e in chamfer1_edges_16:
        chamfer1.Add(CHAMFER1_SIZE, CHAMFER1_SIZE2, e.wrapped, chamfer1_side_16[0].wrapped)  # the first distance lies on this face
    for e in chamfer1_edges_17:
        chamfer1.Add(CHAMFER1_SIZE, CHAMFER1_SIZE2, e.wrapped, chamfer1_side_17[0].wrapped)  # the first distance lies on this face
    for e in chamfer1_edges_18:
        chamfer1.Add(CHAMFER1_SIZE, CHAMFER1_SIZE2, e.wrapped, chamfer1_side_18[0].wrapped)  # the first distance lies on this face
    for e in chamfer1_edges_19:
        chamfer1.Add(CHAMFER1_SIZE, CHAMFER1_SIZE2, e.wrapped, chamfer1_side_19[0].wrapped)  # the first distance lies on this face
    for e in chamfer1_edges_20:
        chamfer1.Add(CHAMFER1_SIZE, CHAMFER1_SIZE2, e.wrapped, chamfer1_side_20[0].wrapped)  # the first distance lies on this face
    for e in chamfer1_edges_21:
        chamfer1.Add(CHAMFER1_SIZE, CHAMFER1_SIZE2, e.wrapped, chamfer1_side_21[0].wrapped)  # the first distance lies on this face
    for e in chamfer1_edges_22:
        chamfer1.Add(CHAMFER1_SIZE, CHAMFER1_SIZE2, e.wrapped, chamfer1_side_22[0].wrapped)  # the first distance lies on this face
    add(Compound.cast(chamfer1.Shape()), mode=Mode.REPLACE)


solid = part.part
